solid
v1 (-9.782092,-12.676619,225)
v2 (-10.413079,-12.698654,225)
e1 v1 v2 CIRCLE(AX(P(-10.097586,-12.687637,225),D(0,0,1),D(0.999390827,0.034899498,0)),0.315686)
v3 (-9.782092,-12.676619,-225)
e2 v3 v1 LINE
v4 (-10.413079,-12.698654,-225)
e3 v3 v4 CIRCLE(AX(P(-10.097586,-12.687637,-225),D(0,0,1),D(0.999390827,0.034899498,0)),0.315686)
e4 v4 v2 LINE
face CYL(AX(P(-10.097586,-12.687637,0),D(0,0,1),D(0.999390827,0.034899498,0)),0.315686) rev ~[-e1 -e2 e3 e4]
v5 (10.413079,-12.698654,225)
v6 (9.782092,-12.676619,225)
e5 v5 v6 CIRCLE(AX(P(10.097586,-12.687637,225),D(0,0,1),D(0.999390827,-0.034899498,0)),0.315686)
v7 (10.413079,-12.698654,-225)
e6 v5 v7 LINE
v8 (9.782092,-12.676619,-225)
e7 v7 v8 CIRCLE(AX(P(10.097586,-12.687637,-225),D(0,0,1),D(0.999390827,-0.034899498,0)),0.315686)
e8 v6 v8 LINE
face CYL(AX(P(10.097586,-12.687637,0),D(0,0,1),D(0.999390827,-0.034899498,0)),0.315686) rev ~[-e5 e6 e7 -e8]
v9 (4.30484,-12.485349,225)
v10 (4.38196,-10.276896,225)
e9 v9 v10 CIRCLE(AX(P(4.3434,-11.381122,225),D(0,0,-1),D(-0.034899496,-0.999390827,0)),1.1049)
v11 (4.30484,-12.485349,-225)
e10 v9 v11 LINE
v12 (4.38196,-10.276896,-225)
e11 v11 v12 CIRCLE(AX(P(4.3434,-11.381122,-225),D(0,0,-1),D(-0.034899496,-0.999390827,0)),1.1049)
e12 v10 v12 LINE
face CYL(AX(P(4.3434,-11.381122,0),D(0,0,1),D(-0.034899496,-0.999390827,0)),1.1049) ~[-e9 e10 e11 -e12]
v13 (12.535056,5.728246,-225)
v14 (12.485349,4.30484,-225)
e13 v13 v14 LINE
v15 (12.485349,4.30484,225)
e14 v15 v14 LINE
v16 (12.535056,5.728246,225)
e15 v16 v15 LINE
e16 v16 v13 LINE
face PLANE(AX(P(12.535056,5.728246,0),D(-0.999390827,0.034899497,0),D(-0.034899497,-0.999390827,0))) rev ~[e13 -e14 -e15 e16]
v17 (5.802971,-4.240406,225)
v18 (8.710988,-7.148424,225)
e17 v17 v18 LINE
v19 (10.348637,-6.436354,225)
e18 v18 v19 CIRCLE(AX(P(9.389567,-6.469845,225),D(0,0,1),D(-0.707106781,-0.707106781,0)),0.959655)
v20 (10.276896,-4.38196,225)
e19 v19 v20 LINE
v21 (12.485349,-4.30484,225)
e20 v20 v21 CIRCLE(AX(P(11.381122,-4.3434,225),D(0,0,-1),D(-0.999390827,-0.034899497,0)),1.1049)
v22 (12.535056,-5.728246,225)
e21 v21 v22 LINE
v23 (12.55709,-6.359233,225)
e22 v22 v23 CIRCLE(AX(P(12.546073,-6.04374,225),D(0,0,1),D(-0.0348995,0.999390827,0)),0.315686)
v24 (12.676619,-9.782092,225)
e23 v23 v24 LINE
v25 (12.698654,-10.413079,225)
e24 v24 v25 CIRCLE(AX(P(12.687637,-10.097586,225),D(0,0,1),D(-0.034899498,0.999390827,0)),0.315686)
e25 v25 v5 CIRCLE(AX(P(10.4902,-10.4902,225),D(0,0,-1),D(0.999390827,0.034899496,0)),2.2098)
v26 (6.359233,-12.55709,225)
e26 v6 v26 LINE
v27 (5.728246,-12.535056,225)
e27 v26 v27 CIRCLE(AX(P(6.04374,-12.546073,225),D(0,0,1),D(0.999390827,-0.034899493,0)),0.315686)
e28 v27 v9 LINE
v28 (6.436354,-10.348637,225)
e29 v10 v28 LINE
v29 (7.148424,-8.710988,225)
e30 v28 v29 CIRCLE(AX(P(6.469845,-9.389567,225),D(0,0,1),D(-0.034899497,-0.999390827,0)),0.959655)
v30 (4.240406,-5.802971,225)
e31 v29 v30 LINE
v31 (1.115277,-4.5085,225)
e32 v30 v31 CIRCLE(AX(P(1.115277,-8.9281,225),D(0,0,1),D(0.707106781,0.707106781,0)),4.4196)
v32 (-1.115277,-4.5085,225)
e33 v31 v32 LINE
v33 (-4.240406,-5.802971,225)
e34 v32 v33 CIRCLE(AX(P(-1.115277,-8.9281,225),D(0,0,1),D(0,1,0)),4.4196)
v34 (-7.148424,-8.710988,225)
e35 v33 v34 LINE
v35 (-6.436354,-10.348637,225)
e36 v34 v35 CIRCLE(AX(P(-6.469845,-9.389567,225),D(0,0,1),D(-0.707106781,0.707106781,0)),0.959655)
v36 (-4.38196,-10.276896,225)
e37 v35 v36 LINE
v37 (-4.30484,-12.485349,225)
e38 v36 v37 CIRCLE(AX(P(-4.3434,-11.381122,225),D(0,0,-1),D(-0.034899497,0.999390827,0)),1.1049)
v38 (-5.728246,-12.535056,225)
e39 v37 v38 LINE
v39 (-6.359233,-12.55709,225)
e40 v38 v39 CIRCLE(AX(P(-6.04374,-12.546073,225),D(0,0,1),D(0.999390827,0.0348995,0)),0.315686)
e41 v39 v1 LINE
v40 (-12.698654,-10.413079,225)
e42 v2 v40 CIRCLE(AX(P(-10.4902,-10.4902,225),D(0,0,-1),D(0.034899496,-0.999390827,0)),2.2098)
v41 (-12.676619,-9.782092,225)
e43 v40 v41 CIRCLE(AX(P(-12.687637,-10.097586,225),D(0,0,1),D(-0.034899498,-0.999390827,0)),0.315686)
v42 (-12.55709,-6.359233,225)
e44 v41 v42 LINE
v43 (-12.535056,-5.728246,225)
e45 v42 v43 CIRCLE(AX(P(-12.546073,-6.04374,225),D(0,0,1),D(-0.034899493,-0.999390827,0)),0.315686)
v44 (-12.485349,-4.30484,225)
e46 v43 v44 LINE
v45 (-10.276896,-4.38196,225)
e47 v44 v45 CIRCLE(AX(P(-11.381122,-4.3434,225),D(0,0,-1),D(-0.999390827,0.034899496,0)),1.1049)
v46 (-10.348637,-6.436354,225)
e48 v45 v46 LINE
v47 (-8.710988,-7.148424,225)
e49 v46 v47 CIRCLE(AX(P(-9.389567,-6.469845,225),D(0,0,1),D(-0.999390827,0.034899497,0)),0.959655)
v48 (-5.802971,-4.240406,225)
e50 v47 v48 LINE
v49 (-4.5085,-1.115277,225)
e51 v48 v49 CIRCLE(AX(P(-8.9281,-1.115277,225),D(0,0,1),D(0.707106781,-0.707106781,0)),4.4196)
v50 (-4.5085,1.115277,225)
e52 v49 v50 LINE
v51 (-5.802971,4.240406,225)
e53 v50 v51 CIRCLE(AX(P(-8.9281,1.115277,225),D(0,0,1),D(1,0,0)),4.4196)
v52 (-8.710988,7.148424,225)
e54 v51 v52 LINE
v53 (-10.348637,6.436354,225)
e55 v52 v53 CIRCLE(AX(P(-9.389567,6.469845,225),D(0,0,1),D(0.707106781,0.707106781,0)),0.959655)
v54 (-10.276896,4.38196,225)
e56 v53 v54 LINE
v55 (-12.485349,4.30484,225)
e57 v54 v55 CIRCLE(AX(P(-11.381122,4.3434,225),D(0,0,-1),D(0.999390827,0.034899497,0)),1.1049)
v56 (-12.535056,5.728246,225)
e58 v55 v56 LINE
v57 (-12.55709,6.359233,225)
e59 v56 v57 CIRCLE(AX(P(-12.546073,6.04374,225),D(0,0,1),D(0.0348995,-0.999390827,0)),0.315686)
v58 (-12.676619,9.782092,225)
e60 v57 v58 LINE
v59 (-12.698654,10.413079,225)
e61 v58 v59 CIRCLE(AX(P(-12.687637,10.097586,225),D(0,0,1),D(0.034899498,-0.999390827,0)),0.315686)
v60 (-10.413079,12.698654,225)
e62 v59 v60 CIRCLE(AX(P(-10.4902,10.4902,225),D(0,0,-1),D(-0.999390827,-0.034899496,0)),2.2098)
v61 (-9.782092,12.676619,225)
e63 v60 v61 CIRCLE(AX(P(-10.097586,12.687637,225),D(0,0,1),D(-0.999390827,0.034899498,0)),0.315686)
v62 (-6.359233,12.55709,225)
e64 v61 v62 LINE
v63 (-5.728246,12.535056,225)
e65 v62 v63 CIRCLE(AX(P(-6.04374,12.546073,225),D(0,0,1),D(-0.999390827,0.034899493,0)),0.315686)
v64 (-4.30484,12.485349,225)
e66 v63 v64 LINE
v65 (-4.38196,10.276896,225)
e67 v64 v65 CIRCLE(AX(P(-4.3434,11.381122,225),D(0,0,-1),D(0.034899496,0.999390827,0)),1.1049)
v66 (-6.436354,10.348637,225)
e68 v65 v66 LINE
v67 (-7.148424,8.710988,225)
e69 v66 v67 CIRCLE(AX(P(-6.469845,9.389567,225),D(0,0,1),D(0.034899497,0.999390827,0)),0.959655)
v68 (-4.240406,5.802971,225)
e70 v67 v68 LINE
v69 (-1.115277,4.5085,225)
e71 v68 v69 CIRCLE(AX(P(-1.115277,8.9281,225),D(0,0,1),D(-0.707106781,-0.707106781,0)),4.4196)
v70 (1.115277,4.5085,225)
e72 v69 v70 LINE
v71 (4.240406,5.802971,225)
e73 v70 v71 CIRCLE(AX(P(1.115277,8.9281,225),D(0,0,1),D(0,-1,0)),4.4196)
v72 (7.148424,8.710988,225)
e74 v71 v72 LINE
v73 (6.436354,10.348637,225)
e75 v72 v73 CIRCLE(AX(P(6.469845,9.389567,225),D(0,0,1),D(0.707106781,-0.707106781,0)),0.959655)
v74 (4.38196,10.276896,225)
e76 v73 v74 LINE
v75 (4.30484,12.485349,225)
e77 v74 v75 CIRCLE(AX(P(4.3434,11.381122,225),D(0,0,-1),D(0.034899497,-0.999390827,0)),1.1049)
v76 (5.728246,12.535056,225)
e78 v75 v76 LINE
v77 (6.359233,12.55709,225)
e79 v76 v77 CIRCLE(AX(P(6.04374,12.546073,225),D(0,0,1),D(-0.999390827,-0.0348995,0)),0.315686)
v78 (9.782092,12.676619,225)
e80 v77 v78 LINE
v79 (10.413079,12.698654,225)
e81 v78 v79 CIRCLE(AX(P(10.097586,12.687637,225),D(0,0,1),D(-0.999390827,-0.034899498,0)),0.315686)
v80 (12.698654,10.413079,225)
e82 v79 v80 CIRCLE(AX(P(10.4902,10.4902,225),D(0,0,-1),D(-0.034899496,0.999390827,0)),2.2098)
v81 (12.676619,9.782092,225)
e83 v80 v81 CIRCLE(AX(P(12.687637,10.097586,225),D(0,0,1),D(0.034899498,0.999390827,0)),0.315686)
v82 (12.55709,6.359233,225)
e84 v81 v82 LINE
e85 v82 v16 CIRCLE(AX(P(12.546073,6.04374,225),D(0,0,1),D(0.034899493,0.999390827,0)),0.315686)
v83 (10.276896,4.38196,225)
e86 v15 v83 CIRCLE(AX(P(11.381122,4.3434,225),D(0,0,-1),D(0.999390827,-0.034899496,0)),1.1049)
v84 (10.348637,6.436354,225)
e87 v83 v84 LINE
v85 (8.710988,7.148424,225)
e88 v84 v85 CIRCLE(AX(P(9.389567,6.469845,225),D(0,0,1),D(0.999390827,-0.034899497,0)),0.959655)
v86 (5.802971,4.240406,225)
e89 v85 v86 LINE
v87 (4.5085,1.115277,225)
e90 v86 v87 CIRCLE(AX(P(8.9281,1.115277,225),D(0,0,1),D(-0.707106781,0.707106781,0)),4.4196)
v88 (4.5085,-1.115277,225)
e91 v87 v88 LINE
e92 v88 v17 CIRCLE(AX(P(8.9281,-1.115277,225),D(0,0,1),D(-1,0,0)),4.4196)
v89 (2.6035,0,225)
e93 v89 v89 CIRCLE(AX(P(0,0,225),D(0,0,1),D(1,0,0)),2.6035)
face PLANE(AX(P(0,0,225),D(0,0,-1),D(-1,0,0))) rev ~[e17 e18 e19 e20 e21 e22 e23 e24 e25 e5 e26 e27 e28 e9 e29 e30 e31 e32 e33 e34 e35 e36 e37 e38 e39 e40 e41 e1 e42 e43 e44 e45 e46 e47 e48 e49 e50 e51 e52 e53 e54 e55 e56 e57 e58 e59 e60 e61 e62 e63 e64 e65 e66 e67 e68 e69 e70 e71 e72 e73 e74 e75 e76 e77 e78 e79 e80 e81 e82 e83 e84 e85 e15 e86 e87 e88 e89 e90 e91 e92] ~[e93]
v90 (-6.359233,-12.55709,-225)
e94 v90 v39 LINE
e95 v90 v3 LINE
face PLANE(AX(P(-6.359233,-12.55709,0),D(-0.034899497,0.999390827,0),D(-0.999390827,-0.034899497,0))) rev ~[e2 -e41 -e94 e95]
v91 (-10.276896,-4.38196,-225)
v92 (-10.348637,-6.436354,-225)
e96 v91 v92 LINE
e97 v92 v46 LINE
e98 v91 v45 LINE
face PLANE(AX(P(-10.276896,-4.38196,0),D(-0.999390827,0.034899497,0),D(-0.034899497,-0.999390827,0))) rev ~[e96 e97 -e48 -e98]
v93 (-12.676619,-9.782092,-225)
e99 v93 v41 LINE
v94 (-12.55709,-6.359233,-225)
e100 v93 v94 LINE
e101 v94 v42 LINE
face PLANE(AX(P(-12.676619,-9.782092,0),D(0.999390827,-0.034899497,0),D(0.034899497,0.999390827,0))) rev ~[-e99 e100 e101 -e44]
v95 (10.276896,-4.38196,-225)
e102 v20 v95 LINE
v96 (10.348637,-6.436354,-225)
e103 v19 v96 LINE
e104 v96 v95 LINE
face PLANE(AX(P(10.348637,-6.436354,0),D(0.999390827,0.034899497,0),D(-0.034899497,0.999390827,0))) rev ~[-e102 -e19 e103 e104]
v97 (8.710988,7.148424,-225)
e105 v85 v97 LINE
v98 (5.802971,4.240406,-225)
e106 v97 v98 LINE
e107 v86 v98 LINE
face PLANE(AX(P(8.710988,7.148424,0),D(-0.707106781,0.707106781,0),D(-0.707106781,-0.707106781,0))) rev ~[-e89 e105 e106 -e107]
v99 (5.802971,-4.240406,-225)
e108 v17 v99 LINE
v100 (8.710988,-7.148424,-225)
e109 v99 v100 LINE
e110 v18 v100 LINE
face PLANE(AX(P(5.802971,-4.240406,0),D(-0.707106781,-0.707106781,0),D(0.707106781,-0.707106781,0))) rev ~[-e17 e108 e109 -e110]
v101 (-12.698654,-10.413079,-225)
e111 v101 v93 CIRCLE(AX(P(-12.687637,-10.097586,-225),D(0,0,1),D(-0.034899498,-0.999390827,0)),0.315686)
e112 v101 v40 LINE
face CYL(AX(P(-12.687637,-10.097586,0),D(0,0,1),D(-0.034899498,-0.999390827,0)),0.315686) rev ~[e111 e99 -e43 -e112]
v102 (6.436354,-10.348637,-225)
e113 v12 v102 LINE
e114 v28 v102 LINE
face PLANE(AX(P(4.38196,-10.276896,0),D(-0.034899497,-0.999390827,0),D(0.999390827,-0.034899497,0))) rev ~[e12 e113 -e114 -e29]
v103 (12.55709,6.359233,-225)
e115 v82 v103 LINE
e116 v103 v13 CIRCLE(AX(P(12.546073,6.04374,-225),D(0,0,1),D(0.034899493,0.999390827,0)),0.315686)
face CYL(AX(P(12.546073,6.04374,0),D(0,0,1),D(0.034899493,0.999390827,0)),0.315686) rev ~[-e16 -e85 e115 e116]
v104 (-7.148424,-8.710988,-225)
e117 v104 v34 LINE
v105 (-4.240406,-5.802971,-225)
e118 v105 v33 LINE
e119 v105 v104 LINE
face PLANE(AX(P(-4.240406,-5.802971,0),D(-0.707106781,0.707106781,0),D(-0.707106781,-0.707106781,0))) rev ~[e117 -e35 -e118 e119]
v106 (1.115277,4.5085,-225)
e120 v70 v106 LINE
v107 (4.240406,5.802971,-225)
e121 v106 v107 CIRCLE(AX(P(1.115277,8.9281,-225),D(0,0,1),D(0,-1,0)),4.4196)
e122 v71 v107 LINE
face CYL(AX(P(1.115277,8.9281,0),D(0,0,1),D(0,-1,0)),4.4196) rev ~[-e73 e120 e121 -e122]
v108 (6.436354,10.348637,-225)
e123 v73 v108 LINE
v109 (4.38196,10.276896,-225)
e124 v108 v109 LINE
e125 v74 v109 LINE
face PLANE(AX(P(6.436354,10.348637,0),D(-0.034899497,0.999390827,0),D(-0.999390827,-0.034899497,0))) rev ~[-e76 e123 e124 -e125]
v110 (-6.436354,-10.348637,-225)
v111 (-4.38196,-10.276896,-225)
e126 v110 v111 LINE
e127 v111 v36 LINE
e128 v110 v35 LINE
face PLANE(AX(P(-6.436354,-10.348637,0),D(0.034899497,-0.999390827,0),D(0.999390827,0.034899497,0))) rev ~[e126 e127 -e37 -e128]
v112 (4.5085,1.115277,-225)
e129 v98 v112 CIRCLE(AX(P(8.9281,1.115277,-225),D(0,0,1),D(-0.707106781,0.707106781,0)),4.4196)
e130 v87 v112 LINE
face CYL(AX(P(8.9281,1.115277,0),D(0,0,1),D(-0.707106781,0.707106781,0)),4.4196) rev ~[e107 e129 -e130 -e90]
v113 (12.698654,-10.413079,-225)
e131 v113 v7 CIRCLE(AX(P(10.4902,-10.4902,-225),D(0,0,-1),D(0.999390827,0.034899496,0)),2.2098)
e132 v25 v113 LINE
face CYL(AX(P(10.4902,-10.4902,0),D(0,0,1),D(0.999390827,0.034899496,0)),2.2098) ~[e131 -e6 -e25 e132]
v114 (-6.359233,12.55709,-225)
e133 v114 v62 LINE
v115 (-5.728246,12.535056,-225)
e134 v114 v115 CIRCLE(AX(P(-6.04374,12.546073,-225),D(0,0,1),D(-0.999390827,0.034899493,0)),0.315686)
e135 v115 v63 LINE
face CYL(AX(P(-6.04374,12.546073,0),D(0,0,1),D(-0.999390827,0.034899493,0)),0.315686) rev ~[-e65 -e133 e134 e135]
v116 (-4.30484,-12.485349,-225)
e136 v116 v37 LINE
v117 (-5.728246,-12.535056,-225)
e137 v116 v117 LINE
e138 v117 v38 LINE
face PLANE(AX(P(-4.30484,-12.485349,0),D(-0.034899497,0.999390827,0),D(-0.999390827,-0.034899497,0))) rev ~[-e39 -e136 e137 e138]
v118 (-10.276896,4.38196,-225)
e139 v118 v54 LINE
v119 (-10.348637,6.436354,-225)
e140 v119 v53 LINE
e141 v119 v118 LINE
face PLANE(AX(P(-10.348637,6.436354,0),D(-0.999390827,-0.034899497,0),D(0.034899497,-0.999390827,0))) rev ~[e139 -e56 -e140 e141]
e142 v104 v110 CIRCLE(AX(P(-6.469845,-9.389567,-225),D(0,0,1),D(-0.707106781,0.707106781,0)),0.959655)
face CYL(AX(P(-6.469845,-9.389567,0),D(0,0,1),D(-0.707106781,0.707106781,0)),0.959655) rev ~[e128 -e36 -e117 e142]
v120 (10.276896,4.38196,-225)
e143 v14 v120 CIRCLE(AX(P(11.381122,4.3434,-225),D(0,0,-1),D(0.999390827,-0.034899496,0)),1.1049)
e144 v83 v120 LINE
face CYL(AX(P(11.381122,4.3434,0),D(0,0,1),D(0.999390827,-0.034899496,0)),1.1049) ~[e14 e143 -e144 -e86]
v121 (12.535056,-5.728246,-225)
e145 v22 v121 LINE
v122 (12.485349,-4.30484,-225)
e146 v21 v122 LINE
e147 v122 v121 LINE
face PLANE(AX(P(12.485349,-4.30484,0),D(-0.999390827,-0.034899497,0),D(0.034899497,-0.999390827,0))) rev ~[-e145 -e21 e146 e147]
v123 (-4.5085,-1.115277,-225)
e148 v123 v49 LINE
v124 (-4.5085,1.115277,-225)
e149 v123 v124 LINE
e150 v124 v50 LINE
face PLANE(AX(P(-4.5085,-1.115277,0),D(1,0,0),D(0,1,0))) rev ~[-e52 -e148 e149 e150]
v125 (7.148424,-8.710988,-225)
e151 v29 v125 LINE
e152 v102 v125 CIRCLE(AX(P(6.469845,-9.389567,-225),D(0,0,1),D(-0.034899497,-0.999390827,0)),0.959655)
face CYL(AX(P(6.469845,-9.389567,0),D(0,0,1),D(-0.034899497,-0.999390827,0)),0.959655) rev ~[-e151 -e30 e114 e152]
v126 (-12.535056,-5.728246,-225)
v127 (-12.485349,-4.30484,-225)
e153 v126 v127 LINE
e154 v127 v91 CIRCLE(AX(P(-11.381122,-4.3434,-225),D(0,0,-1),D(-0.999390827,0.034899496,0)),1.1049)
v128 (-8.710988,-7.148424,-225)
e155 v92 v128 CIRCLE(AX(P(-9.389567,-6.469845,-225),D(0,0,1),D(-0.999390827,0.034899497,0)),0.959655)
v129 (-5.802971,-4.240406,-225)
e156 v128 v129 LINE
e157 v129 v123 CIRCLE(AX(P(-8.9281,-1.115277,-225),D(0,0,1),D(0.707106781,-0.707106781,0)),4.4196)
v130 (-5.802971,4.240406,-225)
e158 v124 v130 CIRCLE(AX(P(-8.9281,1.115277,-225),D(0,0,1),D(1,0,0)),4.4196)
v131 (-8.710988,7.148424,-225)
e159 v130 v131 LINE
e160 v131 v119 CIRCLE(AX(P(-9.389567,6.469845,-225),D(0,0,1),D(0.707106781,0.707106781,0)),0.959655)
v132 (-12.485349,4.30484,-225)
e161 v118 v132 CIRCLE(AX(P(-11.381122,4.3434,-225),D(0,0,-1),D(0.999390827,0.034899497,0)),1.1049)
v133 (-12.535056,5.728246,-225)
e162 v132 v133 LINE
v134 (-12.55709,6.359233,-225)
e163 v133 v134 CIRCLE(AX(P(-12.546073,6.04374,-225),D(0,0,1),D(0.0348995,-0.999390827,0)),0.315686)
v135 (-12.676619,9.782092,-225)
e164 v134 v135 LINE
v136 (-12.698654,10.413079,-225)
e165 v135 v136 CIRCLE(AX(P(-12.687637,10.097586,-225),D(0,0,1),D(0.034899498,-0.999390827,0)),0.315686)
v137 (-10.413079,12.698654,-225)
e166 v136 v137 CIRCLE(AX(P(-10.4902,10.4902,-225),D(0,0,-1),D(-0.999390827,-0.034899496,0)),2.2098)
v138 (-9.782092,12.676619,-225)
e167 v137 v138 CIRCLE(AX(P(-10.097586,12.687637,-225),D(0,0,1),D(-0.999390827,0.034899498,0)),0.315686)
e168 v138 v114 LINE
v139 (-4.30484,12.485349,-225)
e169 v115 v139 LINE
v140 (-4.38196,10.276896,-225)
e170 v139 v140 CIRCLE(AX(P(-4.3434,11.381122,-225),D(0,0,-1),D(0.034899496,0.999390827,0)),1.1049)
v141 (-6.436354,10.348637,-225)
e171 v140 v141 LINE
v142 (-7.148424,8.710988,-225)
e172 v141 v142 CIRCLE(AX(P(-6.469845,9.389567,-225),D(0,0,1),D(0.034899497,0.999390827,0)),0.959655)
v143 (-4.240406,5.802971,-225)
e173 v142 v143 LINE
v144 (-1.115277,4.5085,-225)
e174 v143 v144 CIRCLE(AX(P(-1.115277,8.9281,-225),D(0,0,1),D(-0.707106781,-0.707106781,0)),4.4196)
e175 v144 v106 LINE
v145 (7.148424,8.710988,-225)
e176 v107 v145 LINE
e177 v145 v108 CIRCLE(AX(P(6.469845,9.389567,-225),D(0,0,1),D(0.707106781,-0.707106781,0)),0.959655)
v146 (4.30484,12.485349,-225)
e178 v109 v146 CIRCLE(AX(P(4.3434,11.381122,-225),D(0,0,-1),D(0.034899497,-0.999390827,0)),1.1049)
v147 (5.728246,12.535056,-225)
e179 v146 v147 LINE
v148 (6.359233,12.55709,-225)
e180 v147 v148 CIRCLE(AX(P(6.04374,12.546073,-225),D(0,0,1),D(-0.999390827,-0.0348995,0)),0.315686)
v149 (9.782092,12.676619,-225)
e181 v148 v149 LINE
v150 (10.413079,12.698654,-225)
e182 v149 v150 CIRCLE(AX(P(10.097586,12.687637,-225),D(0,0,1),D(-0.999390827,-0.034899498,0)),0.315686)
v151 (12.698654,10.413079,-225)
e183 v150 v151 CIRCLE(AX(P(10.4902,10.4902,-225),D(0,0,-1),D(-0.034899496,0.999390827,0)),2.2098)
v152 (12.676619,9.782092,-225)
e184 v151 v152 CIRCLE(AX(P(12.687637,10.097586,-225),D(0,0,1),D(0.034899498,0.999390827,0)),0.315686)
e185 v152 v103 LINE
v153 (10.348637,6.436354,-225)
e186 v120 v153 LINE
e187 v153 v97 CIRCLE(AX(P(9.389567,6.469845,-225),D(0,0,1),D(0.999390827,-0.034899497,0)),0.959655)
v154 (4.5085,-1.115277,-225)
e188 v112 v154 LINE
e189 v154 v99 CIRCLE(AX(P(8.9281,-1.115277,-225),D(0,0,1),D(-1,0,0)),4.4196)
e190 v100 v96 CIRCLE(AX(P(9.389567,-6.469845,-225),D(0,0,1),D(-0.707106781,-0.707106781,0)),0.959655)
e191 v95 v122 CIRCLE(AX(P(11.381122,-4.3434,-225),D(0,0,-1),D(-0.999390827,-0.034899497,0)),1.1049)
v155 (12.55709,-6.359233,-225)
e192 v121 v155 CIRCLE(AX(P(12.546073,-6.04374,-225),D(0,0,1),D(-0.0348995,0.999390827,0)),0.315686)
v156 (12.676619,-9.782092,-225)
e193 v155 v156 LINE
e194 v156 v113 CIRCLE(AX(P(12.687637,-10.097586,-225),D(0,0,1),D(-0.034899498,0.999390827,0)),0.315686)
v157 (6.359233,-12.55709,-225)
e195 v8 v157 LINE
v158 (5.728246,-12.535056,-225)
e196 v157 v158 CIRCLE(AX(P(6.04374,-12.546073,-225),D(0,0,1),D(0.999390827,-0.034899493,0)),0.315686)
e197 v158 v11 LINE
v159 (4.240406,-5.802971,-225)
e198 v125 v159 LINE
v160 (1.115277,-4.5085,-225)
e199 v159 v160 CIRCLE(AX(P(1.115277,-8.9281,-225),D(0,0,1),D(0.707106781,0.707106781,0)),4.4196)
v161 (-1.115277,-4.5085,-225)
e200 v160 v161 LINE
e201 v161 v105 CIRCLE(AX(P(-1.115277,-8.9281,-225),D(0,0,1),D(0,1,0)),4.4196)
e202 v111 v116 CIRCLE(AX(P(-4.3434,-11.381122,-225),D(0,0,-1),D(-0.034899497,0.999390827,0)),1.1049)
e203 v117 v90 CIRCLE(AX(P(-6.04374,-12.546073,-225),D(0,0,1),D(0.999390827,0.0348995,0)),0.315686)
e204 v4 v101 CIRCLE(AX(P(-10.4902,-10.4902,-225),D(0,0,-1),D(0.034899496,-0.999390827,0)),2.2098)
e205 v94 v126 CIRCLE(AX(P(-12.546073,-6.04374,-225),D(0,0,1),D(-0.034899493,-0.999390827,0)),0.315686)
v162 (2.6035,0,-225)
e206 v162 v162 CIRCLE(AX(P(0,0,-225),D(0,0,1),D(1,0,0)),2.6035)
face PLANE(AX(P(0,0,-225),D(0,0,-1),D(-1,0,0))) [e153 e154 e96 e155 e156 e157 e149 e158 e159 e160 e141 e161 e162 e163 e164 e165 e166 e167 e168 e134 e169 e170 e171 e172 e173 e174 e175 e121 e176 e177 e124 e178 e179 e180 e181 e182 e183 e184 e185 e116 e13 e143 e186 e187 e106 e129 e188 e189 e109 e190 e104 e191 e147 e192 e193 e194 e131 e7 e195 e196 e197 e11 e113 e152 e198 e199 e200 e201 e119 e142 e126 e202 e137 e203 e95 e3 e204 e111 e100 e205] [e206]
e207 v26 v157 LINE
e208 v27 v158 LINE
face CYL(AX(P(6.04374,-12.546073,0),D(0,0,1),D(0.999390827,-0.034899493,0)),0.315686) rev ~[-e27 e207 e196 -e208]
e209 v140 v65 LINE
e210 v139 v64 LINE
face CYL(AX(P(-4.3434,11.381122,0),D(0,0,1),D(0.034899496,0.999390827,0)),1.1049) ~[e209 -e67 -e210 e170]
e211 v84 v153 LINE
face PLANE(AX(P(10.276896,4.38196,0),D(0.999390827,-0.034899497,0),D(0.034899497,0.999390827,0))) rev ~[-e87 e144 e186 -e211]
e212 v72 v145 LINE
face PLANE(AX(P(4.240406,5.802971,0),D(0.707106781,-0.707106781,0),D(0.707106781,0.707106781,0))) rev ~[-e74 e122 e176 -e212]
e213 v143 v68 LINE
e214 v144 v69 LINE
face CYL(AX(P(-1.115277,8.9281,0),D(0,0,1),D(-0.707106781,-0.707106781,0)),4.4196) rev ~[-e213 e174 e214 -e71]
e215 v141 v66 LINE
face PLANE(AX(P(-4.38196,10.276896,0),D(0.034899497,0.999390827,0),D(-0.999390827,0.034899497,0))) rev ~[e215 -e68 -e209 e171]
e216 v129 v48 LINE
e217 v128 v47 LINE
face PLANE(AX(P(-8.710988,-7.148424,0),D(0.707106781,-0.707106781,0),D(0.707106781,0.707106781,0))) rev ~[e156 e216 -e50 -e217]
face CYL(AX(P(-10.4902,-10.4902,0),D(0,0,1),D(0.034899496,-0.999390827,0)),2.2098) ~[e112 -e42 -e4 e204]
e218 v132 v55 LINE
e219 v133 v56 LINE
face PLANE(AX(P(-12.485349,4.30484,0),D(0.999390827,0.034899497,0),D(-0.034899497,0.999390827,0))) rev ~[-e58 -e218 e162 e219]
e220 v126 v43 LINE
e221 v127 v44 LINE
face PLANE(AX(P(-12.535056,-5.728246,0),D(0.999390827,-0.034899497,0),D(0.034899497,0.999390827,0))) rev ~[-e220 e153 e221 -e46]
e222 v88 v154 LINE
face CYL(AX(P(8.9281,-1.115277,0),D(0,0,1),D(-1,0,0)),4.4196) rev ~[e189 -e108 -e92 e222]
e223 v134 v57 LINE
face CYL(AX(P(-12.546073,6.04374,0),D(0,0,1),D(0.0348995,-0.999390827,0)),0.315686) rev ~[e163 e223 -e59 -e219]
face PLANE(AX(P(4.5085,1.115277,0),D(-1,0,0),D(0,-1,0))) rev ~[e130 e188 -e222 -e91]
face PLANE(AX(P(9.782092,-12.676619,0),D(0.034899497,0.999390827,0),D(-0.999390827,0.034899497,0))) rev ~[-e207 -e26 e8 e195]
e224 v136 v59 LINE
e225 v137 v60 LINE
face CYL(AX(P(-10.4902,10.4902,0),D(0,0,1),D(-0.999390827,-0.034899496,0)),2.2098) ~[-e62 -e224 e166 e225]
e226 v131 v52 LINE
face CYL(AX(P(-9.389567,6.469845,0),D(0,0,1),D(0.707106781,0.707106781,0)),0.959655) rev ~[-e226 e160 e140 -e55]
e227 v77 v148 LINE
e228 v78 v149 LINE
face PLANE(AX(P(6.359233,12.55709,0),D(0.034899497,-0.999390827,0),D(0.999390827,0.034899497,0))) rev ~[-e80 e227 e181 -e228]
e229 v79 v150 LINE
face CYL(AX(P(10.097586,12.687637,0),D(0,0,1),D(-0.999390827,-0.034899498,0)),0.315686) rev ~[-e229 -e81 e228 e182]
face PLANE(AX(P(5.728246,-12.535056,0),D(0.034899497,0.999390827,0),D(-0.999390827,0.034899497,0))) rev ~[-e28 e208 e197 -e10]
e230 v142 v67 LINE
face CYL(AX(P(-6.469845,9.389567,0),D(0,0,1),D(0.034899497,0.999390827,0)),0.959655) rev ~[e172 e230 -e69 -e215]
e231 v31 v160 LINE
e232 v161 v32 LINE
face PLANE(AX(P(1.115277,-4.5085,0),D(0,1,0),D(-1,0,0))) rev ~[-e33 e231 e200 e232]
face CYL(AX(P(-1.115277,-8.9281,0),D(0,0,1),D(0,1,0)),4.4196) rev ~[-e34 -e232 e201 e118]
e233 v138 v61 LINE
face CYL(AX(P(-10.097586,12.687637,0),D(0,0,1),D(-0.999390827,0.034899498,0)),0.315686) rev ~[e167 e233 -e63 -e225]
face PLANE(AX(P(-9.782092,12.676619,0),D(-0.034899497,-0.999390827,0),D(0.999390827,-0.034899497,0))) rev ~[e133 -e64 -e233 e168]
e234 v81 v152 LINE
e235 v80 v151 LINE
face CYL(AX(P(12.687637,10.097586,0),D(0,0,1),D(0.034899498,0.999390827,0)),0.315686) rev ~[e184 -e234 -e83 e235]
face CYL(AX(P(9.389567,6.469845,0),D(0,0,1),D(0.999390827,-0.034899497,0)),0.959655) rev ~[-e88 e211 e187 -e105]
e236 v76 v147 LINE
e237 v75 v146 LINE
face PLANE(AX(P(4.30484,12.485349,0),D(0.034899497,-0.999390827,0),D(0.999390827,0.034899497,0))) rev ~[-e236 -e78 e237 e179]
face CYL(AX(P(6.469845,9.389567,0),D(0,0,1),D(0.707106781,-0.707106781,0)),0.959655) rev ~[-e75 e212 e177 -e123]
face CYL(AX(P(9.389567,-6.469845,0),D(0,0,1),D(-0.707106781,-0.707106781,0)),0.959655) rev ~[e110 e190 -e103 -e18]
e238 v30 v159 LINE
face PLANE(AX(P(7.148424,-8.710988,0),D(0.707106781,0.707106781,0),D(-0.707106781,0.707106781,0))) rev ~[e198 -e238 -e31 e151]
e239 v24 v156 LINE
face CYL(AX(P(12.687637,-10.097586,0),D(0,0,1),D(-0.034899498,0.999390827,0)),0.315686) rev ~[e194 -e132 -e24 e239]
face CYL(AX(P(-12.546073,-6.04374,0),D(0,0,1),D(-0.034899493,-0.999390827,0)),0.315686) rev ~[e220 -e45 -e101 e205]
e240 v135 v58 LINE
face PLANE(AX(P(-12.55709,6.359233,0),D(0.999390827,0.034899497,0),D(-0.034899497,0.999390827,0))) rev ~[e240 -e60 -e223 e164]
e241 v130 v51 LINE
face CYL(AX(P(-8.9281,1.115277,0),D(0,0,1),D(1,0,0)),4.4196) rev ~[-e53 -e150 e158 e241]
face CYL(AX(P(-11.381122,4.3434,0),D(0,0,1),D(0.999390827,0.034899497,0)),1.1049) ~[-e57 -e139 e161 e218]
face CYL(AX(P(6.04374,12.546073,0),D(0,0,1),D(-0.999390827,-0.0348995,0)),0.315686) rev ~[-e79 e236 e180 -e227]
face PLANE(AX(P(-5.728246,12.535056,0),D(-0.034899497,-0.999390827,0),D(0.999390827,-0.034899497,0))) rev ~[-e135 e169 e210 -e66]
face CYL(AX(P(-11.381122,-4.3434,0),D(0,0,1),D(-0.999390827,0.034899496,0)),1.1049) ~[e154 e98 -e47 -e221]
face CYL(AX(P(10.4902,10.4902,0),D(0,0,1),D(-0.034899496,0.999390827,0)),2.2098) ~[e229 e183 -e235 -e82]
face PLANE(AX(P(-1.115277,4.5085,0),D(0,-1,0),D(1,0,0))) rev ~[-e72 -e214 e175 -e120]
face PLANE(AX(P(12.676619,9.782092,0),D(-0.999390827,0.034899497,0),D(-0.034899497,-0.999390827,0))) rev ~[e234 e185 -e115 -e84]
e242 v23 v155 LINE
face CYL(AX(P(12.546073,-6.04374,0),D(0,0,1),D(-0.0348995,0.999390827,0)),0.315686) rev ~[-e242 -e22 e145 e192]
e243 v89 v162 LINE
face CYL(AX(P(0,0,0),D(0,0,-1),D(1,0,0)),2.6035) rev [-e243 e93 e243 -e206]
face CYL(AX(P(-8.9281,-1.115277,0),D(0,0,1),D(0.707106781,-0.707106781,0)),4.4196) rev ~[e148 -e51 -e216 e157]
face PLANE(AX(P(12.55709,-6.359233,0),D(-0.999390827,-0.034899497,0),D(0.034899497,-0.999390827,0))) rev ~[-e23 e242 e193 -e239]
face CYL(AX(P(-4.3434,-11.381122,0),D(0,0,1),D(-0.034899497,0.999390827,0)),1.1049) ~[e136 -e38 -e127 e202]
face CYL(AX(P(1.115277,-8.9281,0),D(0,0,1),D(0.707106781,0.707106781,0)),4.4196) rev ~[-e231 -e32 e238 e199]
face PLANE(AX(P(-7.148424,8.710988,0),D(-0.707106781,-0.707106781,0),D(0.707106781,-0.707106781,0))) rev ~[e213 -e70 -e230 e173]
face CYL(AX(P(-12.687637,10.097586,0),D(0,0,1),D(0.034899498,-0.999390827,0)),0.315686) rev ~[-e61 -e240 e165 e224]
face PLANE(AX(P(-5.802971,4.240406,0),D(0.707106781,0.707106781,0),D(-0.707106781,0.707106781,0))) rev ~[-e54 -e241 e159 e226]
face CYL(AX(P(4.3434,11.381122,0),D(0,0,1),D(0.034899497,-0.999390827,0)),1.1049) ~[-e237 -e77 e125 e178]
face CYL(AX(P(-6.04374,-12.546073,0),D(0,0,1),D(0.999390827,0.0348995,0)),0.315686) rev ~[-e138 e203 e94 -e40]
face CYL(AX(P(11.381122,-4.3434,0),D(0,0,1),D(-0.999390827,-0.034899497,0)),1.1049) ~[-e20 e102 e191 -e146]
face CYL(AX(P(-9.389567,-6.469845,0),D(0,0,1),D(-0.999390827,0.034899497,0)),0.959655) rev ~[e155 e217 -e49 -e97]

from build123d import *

# Parameters (mm, degrees)
SKETCH3_R      = 2.6035
EXTRUDE1_DEPTH = 225


with BuildPart() as part:
    # Sketch3 → Extrude1 (new, symmetric)
    with BuildSketch(Plane.XY):
        with BuildLine():
            Line((-1.115277175, 4.5085), (1.115277175, 4.5085))
            ThreePointArc((1.115277175, 4.5085), (2.806584872, 4.844922018), (4.240406305, 5.80297087))
            Line((4.240406305, 5.80297087), (7.148423664, 8.710988229))
            ThreePointArc((7.148423664, 8.710988229), (7.349906316, 9.772227925), (6.436353897, 10.348636575))
            Line((6.436353897, 10.348636575), (4.381960454, 10.276895575))
            ThreePointArc((4.381960454, 10.276895575), (3.239173075, 11.342562046), (4.304839546, 12.485349424))
            Line((4.304839546, 12.485349424), (5.728246175, 12.535055879))
            ThreePointArc((5.728246175, 12.535055879), (6.054756855, 12.230579745), (6.35923299, 12.557090424))
            Line((6.35923299, 12.557090424), (9.782092278, 12.676619304))
            ThreePointArc((9.782092278, 12.676619304), (10.108602958, 12.37214317), (10.413079092, 12.69865385))
            ThreePointArc((10.413079092, 12.69865385), (12.052764565, 12.052764565), (12.69865385, 10.413079092))
            ThreePointArc((12.69865385, 10.413079092), (12.37214317, 10.108602958), (12.676619304, 9.782092278))
            Line((12.676619304, 9.782092278), (12.557090424, 6.35923299))
            ThreePointArc((12.557090424, 6.35923299), (12.230579745, 6.054756855), (12.535055879, 5.728246175))
            Line((12.535055879, 5.728246175), (12.485349424, 4.304839546))
            ThreePointArc((12.485349424, 4.304839546), (11.342562046, 3.239173075), (10.276895575, 4.381960454))
            Line((10.276895575, 4.381960454), (10.348636575, 6.436353897))
            ThreePointArc((10.348636575, 6.436353897), (9.772227925, 7.349906316), (8.710988229, 7.148423664))
            Line((8.710988229, 7.148423664), (5.80297087, 4.240406305))
            ThreePointArc((5.80297087, 4.240406305), (4.844922018, 2.806584872), (4.5085, 1.115277175))
            Line((4.5085, 1.115277175), (4.5085, -1.115277175))
            ThreePointArc((4.5085, -1.115277175), (4.844922018, -2.806584872), (5.80297087, -4.240406305))
            Line((5.80297087, -4.240406305), (8.710988229, -7.148423664))
            ThreePointArc((8.710988229, -7.148423664), (9.772227925, -7.349906316), (10.348636575, -6.436353897))
            Line((10.348636575, -6.436353897), (10.276895575, -4.381960454))
            ThreePointArc((10.276895575, -4.381960454), (11.342562046, -3.239173075), (12.485349424, -4.304839546))
            Line((12.485349424, -4.304839546), (12.535055879, -5.728246175))
            ThreePointArc((12.535055879, -5.728246175), (12.230579745, -6.054756855), (12.557090424, -6.35923299))
            Line((12.557090424, -6.35923299), (12.676619304, -9.782092278))
            ThreePointArc((12.676619304, -9.782092278), (12.37214317, -10.108602958), (12.69865385, -10.413079092))
            ThreePointArc((12.69865385, -10.413079092), (12.052764565, -12.052764565), (10.413079092, -12.69865385))
            ThreePointArc((10.413079092, -12.69865385), (10.108602958, -12.37214317), (9.782092278, -12.676619304))
            Line((9.782092278, -12.676619304), (6.35923299, -12.557090424))
            ThreePointArc((6.35923299, -12.557090424), (6.054756855, -12.230579745), (5.728246175, -12.535055879))
            Line((5.728246175, -12.535055879), (4.304839546, -12.485349424))
            ThreePointArc((4.304839546, -12.485349424), (3.239173075, -11.342562046), (4.381960454, -10.276895575))
            Line((4.381960454, -10.276895575), (6.436353897, -10.348636575))
            ThreePointArc((6.436353897, -10.348636575), (7.349906316, -9.772227925), (7.148423664, -8.710988229))
            Line((7.148423664, -8.710988229), (4.240406305, -5.80297087))
            ThreePointArc((4.240406305, -5.80297087), (2.806584872, -4.844922018), (1.115277175, -4.5085))
            Line((1.115277175, -4.5085), (-1.115277175, -4.5085))
            ThreePointArc((-1.115277175, -4.5085), (-2.806584872, -4.844922018), (-4.240406305, -5.80297087))
            Line((-4.240406305, -5.80297087), (-7.148423664, -8.710988229))
            ThreePointArc((-7.148423664, -8.710988229), (-7.349906316, -9.772227925), (-6.436353897, -10.348636575))
            Line((-6.436353897, -10.348636575), (-4.381960454, -10.276895575))
            ThreePointArc((-4.381960454, -10.276895575), (-3.239173075, -11.342562046), (-4.304839546, -12.485349424))
            Line((-4.304839546, -12.485349424), (-5.728246175, -12.535055879))
            ThreePointArc((-5.728246175, -12.535055879), (-6.054756855, -12.230579745), (-6.35923299, -12.557090424))
            Line((-6.35923299, -12.557090424), (-9.782092278, -12.676619304))
            ThreePointArc((-9.782092278, -12.676619304), (-10.108602958, -12.37214317), (-10.413079092, -12.69865385))
            ThreePointArc((-10.413079092, -12.69865385), (-12.052764565, -12.052764565), (-12.69865385, -10.413079092))
            ThreePointArc((-12.69865385, -10.413079092), (-12.37214317, -10.108602958), (-12.676619304, -9.782092278))
            Line((-12.676619304, -9.782092278), (-12.557090424, -6.35923299))
            ThreePointArc((-12.557090424, -6.35923299), (-12.230579745, -6.054756855), (-12.535055879, -5.728246175))
            Line((-12.535055879, -5.728246175), (-12.485349424, -4.304839546))
            ThreePointArc((-12.485349424, -4.304839546), (-11.342562046, -3.239173075), (-10.276895575, -4.381960454))
            Line((-10.276895575, -4.381960454), (-10.348636575, -6.436353897))
            ThreePointArc((-10.348636575, -6.436353897), (-9.772227925, -7.349906316), (-8.710988229, -7.148423664))
            Line((-8.710988229, -7.148423664), (-5.80297087, -4.240406305))
            ThreePointArc((-5.80297087, -4.240406305), (-4.844922018, -2.806584872), (-4.5085, -1.115277175))
            Line((-4.5085, -1.115277175), (-4.5085, 1.115277175))
            ThreePointArc((-4.5085, 1.115277175), (-4.844922018, 2.806584872), (-5.80297087, 4.240406305))
            Line((-5.80297087, 4.240406305), (-8.710988229, 7.148423664))
            ThreePointArc((-8.710988229, 7.148423664), (-9.772227925, 7.349906316), (-10.348636575, 6.436353897))
            Line((-10.348636575, 6.436353897), (-10.276895575, 4.381960454))
            ThreePointArc((-10.276895575, 4.381960454), (-11.342562046, 3.239173075), (-12.485349424, 4.304839546))
            Line((-12.485349424, 4.304839546), (-12.535055879, 5.728246175))
            ThreePointArc((-12.535055879, 5.728246175), (-12.230579745, 6.054756855), (-12.557090424, 6.35923299))
            Line((-12.557090424, 6.35923299), (-12.676619304, 9.782092278))
            ThreePointArc((-12.676619304, 9.782092278), (-12.37214317, 10.108602958), (-12.69865385, 10.413079092))
            ThreePointArc((-12.69865385, 10.413079092), (-12.052764565, 12.052764565), (-10.413079092, 12.69865385))
            ThreePointArc((-10.413079092, 12.69865385), (-10.108602958, 12.37214317), (-9.782092278, 12.676619304))
            Line((-9.782092278, 12.676619304), (-6.35923299, 12.557090424))
            ThreePointArc((-6.35923299, 12.557090424), (-6.054756855, 12.230579745), (-5.728246175, 12.535055879))
            Line((-5.728246175, 12.535055879), (-4.304839546, 12.485349424))
            ThreePointArc((-4.304839546, 12.485349424), (-3.239173075, 11.342562046), (-4.381960454, 10.276895575))
            Line((-4.381960454, 10.276895575), (-6.436353897, 10.348636575))
            ThreePointArc((-6.436353897, 10.348636575), (-7.349906316, 9.772227925), (-7.148423664, 8.710988229))
            Line((-7.148423664, 8.710988229), (-4.240406305, 5.80297087))
            ThreePointArc((-4.240406305, 5.80297087), (-2.806584872, 4.844922018), (-1.115277175, 4.5085))
        make_face()
        Circle(SKETCH3_R, mode=Mode.SUBTRACT)
    extrude(amount=EXTRUDE1_DEPTH, both=True)


solid = part.part
